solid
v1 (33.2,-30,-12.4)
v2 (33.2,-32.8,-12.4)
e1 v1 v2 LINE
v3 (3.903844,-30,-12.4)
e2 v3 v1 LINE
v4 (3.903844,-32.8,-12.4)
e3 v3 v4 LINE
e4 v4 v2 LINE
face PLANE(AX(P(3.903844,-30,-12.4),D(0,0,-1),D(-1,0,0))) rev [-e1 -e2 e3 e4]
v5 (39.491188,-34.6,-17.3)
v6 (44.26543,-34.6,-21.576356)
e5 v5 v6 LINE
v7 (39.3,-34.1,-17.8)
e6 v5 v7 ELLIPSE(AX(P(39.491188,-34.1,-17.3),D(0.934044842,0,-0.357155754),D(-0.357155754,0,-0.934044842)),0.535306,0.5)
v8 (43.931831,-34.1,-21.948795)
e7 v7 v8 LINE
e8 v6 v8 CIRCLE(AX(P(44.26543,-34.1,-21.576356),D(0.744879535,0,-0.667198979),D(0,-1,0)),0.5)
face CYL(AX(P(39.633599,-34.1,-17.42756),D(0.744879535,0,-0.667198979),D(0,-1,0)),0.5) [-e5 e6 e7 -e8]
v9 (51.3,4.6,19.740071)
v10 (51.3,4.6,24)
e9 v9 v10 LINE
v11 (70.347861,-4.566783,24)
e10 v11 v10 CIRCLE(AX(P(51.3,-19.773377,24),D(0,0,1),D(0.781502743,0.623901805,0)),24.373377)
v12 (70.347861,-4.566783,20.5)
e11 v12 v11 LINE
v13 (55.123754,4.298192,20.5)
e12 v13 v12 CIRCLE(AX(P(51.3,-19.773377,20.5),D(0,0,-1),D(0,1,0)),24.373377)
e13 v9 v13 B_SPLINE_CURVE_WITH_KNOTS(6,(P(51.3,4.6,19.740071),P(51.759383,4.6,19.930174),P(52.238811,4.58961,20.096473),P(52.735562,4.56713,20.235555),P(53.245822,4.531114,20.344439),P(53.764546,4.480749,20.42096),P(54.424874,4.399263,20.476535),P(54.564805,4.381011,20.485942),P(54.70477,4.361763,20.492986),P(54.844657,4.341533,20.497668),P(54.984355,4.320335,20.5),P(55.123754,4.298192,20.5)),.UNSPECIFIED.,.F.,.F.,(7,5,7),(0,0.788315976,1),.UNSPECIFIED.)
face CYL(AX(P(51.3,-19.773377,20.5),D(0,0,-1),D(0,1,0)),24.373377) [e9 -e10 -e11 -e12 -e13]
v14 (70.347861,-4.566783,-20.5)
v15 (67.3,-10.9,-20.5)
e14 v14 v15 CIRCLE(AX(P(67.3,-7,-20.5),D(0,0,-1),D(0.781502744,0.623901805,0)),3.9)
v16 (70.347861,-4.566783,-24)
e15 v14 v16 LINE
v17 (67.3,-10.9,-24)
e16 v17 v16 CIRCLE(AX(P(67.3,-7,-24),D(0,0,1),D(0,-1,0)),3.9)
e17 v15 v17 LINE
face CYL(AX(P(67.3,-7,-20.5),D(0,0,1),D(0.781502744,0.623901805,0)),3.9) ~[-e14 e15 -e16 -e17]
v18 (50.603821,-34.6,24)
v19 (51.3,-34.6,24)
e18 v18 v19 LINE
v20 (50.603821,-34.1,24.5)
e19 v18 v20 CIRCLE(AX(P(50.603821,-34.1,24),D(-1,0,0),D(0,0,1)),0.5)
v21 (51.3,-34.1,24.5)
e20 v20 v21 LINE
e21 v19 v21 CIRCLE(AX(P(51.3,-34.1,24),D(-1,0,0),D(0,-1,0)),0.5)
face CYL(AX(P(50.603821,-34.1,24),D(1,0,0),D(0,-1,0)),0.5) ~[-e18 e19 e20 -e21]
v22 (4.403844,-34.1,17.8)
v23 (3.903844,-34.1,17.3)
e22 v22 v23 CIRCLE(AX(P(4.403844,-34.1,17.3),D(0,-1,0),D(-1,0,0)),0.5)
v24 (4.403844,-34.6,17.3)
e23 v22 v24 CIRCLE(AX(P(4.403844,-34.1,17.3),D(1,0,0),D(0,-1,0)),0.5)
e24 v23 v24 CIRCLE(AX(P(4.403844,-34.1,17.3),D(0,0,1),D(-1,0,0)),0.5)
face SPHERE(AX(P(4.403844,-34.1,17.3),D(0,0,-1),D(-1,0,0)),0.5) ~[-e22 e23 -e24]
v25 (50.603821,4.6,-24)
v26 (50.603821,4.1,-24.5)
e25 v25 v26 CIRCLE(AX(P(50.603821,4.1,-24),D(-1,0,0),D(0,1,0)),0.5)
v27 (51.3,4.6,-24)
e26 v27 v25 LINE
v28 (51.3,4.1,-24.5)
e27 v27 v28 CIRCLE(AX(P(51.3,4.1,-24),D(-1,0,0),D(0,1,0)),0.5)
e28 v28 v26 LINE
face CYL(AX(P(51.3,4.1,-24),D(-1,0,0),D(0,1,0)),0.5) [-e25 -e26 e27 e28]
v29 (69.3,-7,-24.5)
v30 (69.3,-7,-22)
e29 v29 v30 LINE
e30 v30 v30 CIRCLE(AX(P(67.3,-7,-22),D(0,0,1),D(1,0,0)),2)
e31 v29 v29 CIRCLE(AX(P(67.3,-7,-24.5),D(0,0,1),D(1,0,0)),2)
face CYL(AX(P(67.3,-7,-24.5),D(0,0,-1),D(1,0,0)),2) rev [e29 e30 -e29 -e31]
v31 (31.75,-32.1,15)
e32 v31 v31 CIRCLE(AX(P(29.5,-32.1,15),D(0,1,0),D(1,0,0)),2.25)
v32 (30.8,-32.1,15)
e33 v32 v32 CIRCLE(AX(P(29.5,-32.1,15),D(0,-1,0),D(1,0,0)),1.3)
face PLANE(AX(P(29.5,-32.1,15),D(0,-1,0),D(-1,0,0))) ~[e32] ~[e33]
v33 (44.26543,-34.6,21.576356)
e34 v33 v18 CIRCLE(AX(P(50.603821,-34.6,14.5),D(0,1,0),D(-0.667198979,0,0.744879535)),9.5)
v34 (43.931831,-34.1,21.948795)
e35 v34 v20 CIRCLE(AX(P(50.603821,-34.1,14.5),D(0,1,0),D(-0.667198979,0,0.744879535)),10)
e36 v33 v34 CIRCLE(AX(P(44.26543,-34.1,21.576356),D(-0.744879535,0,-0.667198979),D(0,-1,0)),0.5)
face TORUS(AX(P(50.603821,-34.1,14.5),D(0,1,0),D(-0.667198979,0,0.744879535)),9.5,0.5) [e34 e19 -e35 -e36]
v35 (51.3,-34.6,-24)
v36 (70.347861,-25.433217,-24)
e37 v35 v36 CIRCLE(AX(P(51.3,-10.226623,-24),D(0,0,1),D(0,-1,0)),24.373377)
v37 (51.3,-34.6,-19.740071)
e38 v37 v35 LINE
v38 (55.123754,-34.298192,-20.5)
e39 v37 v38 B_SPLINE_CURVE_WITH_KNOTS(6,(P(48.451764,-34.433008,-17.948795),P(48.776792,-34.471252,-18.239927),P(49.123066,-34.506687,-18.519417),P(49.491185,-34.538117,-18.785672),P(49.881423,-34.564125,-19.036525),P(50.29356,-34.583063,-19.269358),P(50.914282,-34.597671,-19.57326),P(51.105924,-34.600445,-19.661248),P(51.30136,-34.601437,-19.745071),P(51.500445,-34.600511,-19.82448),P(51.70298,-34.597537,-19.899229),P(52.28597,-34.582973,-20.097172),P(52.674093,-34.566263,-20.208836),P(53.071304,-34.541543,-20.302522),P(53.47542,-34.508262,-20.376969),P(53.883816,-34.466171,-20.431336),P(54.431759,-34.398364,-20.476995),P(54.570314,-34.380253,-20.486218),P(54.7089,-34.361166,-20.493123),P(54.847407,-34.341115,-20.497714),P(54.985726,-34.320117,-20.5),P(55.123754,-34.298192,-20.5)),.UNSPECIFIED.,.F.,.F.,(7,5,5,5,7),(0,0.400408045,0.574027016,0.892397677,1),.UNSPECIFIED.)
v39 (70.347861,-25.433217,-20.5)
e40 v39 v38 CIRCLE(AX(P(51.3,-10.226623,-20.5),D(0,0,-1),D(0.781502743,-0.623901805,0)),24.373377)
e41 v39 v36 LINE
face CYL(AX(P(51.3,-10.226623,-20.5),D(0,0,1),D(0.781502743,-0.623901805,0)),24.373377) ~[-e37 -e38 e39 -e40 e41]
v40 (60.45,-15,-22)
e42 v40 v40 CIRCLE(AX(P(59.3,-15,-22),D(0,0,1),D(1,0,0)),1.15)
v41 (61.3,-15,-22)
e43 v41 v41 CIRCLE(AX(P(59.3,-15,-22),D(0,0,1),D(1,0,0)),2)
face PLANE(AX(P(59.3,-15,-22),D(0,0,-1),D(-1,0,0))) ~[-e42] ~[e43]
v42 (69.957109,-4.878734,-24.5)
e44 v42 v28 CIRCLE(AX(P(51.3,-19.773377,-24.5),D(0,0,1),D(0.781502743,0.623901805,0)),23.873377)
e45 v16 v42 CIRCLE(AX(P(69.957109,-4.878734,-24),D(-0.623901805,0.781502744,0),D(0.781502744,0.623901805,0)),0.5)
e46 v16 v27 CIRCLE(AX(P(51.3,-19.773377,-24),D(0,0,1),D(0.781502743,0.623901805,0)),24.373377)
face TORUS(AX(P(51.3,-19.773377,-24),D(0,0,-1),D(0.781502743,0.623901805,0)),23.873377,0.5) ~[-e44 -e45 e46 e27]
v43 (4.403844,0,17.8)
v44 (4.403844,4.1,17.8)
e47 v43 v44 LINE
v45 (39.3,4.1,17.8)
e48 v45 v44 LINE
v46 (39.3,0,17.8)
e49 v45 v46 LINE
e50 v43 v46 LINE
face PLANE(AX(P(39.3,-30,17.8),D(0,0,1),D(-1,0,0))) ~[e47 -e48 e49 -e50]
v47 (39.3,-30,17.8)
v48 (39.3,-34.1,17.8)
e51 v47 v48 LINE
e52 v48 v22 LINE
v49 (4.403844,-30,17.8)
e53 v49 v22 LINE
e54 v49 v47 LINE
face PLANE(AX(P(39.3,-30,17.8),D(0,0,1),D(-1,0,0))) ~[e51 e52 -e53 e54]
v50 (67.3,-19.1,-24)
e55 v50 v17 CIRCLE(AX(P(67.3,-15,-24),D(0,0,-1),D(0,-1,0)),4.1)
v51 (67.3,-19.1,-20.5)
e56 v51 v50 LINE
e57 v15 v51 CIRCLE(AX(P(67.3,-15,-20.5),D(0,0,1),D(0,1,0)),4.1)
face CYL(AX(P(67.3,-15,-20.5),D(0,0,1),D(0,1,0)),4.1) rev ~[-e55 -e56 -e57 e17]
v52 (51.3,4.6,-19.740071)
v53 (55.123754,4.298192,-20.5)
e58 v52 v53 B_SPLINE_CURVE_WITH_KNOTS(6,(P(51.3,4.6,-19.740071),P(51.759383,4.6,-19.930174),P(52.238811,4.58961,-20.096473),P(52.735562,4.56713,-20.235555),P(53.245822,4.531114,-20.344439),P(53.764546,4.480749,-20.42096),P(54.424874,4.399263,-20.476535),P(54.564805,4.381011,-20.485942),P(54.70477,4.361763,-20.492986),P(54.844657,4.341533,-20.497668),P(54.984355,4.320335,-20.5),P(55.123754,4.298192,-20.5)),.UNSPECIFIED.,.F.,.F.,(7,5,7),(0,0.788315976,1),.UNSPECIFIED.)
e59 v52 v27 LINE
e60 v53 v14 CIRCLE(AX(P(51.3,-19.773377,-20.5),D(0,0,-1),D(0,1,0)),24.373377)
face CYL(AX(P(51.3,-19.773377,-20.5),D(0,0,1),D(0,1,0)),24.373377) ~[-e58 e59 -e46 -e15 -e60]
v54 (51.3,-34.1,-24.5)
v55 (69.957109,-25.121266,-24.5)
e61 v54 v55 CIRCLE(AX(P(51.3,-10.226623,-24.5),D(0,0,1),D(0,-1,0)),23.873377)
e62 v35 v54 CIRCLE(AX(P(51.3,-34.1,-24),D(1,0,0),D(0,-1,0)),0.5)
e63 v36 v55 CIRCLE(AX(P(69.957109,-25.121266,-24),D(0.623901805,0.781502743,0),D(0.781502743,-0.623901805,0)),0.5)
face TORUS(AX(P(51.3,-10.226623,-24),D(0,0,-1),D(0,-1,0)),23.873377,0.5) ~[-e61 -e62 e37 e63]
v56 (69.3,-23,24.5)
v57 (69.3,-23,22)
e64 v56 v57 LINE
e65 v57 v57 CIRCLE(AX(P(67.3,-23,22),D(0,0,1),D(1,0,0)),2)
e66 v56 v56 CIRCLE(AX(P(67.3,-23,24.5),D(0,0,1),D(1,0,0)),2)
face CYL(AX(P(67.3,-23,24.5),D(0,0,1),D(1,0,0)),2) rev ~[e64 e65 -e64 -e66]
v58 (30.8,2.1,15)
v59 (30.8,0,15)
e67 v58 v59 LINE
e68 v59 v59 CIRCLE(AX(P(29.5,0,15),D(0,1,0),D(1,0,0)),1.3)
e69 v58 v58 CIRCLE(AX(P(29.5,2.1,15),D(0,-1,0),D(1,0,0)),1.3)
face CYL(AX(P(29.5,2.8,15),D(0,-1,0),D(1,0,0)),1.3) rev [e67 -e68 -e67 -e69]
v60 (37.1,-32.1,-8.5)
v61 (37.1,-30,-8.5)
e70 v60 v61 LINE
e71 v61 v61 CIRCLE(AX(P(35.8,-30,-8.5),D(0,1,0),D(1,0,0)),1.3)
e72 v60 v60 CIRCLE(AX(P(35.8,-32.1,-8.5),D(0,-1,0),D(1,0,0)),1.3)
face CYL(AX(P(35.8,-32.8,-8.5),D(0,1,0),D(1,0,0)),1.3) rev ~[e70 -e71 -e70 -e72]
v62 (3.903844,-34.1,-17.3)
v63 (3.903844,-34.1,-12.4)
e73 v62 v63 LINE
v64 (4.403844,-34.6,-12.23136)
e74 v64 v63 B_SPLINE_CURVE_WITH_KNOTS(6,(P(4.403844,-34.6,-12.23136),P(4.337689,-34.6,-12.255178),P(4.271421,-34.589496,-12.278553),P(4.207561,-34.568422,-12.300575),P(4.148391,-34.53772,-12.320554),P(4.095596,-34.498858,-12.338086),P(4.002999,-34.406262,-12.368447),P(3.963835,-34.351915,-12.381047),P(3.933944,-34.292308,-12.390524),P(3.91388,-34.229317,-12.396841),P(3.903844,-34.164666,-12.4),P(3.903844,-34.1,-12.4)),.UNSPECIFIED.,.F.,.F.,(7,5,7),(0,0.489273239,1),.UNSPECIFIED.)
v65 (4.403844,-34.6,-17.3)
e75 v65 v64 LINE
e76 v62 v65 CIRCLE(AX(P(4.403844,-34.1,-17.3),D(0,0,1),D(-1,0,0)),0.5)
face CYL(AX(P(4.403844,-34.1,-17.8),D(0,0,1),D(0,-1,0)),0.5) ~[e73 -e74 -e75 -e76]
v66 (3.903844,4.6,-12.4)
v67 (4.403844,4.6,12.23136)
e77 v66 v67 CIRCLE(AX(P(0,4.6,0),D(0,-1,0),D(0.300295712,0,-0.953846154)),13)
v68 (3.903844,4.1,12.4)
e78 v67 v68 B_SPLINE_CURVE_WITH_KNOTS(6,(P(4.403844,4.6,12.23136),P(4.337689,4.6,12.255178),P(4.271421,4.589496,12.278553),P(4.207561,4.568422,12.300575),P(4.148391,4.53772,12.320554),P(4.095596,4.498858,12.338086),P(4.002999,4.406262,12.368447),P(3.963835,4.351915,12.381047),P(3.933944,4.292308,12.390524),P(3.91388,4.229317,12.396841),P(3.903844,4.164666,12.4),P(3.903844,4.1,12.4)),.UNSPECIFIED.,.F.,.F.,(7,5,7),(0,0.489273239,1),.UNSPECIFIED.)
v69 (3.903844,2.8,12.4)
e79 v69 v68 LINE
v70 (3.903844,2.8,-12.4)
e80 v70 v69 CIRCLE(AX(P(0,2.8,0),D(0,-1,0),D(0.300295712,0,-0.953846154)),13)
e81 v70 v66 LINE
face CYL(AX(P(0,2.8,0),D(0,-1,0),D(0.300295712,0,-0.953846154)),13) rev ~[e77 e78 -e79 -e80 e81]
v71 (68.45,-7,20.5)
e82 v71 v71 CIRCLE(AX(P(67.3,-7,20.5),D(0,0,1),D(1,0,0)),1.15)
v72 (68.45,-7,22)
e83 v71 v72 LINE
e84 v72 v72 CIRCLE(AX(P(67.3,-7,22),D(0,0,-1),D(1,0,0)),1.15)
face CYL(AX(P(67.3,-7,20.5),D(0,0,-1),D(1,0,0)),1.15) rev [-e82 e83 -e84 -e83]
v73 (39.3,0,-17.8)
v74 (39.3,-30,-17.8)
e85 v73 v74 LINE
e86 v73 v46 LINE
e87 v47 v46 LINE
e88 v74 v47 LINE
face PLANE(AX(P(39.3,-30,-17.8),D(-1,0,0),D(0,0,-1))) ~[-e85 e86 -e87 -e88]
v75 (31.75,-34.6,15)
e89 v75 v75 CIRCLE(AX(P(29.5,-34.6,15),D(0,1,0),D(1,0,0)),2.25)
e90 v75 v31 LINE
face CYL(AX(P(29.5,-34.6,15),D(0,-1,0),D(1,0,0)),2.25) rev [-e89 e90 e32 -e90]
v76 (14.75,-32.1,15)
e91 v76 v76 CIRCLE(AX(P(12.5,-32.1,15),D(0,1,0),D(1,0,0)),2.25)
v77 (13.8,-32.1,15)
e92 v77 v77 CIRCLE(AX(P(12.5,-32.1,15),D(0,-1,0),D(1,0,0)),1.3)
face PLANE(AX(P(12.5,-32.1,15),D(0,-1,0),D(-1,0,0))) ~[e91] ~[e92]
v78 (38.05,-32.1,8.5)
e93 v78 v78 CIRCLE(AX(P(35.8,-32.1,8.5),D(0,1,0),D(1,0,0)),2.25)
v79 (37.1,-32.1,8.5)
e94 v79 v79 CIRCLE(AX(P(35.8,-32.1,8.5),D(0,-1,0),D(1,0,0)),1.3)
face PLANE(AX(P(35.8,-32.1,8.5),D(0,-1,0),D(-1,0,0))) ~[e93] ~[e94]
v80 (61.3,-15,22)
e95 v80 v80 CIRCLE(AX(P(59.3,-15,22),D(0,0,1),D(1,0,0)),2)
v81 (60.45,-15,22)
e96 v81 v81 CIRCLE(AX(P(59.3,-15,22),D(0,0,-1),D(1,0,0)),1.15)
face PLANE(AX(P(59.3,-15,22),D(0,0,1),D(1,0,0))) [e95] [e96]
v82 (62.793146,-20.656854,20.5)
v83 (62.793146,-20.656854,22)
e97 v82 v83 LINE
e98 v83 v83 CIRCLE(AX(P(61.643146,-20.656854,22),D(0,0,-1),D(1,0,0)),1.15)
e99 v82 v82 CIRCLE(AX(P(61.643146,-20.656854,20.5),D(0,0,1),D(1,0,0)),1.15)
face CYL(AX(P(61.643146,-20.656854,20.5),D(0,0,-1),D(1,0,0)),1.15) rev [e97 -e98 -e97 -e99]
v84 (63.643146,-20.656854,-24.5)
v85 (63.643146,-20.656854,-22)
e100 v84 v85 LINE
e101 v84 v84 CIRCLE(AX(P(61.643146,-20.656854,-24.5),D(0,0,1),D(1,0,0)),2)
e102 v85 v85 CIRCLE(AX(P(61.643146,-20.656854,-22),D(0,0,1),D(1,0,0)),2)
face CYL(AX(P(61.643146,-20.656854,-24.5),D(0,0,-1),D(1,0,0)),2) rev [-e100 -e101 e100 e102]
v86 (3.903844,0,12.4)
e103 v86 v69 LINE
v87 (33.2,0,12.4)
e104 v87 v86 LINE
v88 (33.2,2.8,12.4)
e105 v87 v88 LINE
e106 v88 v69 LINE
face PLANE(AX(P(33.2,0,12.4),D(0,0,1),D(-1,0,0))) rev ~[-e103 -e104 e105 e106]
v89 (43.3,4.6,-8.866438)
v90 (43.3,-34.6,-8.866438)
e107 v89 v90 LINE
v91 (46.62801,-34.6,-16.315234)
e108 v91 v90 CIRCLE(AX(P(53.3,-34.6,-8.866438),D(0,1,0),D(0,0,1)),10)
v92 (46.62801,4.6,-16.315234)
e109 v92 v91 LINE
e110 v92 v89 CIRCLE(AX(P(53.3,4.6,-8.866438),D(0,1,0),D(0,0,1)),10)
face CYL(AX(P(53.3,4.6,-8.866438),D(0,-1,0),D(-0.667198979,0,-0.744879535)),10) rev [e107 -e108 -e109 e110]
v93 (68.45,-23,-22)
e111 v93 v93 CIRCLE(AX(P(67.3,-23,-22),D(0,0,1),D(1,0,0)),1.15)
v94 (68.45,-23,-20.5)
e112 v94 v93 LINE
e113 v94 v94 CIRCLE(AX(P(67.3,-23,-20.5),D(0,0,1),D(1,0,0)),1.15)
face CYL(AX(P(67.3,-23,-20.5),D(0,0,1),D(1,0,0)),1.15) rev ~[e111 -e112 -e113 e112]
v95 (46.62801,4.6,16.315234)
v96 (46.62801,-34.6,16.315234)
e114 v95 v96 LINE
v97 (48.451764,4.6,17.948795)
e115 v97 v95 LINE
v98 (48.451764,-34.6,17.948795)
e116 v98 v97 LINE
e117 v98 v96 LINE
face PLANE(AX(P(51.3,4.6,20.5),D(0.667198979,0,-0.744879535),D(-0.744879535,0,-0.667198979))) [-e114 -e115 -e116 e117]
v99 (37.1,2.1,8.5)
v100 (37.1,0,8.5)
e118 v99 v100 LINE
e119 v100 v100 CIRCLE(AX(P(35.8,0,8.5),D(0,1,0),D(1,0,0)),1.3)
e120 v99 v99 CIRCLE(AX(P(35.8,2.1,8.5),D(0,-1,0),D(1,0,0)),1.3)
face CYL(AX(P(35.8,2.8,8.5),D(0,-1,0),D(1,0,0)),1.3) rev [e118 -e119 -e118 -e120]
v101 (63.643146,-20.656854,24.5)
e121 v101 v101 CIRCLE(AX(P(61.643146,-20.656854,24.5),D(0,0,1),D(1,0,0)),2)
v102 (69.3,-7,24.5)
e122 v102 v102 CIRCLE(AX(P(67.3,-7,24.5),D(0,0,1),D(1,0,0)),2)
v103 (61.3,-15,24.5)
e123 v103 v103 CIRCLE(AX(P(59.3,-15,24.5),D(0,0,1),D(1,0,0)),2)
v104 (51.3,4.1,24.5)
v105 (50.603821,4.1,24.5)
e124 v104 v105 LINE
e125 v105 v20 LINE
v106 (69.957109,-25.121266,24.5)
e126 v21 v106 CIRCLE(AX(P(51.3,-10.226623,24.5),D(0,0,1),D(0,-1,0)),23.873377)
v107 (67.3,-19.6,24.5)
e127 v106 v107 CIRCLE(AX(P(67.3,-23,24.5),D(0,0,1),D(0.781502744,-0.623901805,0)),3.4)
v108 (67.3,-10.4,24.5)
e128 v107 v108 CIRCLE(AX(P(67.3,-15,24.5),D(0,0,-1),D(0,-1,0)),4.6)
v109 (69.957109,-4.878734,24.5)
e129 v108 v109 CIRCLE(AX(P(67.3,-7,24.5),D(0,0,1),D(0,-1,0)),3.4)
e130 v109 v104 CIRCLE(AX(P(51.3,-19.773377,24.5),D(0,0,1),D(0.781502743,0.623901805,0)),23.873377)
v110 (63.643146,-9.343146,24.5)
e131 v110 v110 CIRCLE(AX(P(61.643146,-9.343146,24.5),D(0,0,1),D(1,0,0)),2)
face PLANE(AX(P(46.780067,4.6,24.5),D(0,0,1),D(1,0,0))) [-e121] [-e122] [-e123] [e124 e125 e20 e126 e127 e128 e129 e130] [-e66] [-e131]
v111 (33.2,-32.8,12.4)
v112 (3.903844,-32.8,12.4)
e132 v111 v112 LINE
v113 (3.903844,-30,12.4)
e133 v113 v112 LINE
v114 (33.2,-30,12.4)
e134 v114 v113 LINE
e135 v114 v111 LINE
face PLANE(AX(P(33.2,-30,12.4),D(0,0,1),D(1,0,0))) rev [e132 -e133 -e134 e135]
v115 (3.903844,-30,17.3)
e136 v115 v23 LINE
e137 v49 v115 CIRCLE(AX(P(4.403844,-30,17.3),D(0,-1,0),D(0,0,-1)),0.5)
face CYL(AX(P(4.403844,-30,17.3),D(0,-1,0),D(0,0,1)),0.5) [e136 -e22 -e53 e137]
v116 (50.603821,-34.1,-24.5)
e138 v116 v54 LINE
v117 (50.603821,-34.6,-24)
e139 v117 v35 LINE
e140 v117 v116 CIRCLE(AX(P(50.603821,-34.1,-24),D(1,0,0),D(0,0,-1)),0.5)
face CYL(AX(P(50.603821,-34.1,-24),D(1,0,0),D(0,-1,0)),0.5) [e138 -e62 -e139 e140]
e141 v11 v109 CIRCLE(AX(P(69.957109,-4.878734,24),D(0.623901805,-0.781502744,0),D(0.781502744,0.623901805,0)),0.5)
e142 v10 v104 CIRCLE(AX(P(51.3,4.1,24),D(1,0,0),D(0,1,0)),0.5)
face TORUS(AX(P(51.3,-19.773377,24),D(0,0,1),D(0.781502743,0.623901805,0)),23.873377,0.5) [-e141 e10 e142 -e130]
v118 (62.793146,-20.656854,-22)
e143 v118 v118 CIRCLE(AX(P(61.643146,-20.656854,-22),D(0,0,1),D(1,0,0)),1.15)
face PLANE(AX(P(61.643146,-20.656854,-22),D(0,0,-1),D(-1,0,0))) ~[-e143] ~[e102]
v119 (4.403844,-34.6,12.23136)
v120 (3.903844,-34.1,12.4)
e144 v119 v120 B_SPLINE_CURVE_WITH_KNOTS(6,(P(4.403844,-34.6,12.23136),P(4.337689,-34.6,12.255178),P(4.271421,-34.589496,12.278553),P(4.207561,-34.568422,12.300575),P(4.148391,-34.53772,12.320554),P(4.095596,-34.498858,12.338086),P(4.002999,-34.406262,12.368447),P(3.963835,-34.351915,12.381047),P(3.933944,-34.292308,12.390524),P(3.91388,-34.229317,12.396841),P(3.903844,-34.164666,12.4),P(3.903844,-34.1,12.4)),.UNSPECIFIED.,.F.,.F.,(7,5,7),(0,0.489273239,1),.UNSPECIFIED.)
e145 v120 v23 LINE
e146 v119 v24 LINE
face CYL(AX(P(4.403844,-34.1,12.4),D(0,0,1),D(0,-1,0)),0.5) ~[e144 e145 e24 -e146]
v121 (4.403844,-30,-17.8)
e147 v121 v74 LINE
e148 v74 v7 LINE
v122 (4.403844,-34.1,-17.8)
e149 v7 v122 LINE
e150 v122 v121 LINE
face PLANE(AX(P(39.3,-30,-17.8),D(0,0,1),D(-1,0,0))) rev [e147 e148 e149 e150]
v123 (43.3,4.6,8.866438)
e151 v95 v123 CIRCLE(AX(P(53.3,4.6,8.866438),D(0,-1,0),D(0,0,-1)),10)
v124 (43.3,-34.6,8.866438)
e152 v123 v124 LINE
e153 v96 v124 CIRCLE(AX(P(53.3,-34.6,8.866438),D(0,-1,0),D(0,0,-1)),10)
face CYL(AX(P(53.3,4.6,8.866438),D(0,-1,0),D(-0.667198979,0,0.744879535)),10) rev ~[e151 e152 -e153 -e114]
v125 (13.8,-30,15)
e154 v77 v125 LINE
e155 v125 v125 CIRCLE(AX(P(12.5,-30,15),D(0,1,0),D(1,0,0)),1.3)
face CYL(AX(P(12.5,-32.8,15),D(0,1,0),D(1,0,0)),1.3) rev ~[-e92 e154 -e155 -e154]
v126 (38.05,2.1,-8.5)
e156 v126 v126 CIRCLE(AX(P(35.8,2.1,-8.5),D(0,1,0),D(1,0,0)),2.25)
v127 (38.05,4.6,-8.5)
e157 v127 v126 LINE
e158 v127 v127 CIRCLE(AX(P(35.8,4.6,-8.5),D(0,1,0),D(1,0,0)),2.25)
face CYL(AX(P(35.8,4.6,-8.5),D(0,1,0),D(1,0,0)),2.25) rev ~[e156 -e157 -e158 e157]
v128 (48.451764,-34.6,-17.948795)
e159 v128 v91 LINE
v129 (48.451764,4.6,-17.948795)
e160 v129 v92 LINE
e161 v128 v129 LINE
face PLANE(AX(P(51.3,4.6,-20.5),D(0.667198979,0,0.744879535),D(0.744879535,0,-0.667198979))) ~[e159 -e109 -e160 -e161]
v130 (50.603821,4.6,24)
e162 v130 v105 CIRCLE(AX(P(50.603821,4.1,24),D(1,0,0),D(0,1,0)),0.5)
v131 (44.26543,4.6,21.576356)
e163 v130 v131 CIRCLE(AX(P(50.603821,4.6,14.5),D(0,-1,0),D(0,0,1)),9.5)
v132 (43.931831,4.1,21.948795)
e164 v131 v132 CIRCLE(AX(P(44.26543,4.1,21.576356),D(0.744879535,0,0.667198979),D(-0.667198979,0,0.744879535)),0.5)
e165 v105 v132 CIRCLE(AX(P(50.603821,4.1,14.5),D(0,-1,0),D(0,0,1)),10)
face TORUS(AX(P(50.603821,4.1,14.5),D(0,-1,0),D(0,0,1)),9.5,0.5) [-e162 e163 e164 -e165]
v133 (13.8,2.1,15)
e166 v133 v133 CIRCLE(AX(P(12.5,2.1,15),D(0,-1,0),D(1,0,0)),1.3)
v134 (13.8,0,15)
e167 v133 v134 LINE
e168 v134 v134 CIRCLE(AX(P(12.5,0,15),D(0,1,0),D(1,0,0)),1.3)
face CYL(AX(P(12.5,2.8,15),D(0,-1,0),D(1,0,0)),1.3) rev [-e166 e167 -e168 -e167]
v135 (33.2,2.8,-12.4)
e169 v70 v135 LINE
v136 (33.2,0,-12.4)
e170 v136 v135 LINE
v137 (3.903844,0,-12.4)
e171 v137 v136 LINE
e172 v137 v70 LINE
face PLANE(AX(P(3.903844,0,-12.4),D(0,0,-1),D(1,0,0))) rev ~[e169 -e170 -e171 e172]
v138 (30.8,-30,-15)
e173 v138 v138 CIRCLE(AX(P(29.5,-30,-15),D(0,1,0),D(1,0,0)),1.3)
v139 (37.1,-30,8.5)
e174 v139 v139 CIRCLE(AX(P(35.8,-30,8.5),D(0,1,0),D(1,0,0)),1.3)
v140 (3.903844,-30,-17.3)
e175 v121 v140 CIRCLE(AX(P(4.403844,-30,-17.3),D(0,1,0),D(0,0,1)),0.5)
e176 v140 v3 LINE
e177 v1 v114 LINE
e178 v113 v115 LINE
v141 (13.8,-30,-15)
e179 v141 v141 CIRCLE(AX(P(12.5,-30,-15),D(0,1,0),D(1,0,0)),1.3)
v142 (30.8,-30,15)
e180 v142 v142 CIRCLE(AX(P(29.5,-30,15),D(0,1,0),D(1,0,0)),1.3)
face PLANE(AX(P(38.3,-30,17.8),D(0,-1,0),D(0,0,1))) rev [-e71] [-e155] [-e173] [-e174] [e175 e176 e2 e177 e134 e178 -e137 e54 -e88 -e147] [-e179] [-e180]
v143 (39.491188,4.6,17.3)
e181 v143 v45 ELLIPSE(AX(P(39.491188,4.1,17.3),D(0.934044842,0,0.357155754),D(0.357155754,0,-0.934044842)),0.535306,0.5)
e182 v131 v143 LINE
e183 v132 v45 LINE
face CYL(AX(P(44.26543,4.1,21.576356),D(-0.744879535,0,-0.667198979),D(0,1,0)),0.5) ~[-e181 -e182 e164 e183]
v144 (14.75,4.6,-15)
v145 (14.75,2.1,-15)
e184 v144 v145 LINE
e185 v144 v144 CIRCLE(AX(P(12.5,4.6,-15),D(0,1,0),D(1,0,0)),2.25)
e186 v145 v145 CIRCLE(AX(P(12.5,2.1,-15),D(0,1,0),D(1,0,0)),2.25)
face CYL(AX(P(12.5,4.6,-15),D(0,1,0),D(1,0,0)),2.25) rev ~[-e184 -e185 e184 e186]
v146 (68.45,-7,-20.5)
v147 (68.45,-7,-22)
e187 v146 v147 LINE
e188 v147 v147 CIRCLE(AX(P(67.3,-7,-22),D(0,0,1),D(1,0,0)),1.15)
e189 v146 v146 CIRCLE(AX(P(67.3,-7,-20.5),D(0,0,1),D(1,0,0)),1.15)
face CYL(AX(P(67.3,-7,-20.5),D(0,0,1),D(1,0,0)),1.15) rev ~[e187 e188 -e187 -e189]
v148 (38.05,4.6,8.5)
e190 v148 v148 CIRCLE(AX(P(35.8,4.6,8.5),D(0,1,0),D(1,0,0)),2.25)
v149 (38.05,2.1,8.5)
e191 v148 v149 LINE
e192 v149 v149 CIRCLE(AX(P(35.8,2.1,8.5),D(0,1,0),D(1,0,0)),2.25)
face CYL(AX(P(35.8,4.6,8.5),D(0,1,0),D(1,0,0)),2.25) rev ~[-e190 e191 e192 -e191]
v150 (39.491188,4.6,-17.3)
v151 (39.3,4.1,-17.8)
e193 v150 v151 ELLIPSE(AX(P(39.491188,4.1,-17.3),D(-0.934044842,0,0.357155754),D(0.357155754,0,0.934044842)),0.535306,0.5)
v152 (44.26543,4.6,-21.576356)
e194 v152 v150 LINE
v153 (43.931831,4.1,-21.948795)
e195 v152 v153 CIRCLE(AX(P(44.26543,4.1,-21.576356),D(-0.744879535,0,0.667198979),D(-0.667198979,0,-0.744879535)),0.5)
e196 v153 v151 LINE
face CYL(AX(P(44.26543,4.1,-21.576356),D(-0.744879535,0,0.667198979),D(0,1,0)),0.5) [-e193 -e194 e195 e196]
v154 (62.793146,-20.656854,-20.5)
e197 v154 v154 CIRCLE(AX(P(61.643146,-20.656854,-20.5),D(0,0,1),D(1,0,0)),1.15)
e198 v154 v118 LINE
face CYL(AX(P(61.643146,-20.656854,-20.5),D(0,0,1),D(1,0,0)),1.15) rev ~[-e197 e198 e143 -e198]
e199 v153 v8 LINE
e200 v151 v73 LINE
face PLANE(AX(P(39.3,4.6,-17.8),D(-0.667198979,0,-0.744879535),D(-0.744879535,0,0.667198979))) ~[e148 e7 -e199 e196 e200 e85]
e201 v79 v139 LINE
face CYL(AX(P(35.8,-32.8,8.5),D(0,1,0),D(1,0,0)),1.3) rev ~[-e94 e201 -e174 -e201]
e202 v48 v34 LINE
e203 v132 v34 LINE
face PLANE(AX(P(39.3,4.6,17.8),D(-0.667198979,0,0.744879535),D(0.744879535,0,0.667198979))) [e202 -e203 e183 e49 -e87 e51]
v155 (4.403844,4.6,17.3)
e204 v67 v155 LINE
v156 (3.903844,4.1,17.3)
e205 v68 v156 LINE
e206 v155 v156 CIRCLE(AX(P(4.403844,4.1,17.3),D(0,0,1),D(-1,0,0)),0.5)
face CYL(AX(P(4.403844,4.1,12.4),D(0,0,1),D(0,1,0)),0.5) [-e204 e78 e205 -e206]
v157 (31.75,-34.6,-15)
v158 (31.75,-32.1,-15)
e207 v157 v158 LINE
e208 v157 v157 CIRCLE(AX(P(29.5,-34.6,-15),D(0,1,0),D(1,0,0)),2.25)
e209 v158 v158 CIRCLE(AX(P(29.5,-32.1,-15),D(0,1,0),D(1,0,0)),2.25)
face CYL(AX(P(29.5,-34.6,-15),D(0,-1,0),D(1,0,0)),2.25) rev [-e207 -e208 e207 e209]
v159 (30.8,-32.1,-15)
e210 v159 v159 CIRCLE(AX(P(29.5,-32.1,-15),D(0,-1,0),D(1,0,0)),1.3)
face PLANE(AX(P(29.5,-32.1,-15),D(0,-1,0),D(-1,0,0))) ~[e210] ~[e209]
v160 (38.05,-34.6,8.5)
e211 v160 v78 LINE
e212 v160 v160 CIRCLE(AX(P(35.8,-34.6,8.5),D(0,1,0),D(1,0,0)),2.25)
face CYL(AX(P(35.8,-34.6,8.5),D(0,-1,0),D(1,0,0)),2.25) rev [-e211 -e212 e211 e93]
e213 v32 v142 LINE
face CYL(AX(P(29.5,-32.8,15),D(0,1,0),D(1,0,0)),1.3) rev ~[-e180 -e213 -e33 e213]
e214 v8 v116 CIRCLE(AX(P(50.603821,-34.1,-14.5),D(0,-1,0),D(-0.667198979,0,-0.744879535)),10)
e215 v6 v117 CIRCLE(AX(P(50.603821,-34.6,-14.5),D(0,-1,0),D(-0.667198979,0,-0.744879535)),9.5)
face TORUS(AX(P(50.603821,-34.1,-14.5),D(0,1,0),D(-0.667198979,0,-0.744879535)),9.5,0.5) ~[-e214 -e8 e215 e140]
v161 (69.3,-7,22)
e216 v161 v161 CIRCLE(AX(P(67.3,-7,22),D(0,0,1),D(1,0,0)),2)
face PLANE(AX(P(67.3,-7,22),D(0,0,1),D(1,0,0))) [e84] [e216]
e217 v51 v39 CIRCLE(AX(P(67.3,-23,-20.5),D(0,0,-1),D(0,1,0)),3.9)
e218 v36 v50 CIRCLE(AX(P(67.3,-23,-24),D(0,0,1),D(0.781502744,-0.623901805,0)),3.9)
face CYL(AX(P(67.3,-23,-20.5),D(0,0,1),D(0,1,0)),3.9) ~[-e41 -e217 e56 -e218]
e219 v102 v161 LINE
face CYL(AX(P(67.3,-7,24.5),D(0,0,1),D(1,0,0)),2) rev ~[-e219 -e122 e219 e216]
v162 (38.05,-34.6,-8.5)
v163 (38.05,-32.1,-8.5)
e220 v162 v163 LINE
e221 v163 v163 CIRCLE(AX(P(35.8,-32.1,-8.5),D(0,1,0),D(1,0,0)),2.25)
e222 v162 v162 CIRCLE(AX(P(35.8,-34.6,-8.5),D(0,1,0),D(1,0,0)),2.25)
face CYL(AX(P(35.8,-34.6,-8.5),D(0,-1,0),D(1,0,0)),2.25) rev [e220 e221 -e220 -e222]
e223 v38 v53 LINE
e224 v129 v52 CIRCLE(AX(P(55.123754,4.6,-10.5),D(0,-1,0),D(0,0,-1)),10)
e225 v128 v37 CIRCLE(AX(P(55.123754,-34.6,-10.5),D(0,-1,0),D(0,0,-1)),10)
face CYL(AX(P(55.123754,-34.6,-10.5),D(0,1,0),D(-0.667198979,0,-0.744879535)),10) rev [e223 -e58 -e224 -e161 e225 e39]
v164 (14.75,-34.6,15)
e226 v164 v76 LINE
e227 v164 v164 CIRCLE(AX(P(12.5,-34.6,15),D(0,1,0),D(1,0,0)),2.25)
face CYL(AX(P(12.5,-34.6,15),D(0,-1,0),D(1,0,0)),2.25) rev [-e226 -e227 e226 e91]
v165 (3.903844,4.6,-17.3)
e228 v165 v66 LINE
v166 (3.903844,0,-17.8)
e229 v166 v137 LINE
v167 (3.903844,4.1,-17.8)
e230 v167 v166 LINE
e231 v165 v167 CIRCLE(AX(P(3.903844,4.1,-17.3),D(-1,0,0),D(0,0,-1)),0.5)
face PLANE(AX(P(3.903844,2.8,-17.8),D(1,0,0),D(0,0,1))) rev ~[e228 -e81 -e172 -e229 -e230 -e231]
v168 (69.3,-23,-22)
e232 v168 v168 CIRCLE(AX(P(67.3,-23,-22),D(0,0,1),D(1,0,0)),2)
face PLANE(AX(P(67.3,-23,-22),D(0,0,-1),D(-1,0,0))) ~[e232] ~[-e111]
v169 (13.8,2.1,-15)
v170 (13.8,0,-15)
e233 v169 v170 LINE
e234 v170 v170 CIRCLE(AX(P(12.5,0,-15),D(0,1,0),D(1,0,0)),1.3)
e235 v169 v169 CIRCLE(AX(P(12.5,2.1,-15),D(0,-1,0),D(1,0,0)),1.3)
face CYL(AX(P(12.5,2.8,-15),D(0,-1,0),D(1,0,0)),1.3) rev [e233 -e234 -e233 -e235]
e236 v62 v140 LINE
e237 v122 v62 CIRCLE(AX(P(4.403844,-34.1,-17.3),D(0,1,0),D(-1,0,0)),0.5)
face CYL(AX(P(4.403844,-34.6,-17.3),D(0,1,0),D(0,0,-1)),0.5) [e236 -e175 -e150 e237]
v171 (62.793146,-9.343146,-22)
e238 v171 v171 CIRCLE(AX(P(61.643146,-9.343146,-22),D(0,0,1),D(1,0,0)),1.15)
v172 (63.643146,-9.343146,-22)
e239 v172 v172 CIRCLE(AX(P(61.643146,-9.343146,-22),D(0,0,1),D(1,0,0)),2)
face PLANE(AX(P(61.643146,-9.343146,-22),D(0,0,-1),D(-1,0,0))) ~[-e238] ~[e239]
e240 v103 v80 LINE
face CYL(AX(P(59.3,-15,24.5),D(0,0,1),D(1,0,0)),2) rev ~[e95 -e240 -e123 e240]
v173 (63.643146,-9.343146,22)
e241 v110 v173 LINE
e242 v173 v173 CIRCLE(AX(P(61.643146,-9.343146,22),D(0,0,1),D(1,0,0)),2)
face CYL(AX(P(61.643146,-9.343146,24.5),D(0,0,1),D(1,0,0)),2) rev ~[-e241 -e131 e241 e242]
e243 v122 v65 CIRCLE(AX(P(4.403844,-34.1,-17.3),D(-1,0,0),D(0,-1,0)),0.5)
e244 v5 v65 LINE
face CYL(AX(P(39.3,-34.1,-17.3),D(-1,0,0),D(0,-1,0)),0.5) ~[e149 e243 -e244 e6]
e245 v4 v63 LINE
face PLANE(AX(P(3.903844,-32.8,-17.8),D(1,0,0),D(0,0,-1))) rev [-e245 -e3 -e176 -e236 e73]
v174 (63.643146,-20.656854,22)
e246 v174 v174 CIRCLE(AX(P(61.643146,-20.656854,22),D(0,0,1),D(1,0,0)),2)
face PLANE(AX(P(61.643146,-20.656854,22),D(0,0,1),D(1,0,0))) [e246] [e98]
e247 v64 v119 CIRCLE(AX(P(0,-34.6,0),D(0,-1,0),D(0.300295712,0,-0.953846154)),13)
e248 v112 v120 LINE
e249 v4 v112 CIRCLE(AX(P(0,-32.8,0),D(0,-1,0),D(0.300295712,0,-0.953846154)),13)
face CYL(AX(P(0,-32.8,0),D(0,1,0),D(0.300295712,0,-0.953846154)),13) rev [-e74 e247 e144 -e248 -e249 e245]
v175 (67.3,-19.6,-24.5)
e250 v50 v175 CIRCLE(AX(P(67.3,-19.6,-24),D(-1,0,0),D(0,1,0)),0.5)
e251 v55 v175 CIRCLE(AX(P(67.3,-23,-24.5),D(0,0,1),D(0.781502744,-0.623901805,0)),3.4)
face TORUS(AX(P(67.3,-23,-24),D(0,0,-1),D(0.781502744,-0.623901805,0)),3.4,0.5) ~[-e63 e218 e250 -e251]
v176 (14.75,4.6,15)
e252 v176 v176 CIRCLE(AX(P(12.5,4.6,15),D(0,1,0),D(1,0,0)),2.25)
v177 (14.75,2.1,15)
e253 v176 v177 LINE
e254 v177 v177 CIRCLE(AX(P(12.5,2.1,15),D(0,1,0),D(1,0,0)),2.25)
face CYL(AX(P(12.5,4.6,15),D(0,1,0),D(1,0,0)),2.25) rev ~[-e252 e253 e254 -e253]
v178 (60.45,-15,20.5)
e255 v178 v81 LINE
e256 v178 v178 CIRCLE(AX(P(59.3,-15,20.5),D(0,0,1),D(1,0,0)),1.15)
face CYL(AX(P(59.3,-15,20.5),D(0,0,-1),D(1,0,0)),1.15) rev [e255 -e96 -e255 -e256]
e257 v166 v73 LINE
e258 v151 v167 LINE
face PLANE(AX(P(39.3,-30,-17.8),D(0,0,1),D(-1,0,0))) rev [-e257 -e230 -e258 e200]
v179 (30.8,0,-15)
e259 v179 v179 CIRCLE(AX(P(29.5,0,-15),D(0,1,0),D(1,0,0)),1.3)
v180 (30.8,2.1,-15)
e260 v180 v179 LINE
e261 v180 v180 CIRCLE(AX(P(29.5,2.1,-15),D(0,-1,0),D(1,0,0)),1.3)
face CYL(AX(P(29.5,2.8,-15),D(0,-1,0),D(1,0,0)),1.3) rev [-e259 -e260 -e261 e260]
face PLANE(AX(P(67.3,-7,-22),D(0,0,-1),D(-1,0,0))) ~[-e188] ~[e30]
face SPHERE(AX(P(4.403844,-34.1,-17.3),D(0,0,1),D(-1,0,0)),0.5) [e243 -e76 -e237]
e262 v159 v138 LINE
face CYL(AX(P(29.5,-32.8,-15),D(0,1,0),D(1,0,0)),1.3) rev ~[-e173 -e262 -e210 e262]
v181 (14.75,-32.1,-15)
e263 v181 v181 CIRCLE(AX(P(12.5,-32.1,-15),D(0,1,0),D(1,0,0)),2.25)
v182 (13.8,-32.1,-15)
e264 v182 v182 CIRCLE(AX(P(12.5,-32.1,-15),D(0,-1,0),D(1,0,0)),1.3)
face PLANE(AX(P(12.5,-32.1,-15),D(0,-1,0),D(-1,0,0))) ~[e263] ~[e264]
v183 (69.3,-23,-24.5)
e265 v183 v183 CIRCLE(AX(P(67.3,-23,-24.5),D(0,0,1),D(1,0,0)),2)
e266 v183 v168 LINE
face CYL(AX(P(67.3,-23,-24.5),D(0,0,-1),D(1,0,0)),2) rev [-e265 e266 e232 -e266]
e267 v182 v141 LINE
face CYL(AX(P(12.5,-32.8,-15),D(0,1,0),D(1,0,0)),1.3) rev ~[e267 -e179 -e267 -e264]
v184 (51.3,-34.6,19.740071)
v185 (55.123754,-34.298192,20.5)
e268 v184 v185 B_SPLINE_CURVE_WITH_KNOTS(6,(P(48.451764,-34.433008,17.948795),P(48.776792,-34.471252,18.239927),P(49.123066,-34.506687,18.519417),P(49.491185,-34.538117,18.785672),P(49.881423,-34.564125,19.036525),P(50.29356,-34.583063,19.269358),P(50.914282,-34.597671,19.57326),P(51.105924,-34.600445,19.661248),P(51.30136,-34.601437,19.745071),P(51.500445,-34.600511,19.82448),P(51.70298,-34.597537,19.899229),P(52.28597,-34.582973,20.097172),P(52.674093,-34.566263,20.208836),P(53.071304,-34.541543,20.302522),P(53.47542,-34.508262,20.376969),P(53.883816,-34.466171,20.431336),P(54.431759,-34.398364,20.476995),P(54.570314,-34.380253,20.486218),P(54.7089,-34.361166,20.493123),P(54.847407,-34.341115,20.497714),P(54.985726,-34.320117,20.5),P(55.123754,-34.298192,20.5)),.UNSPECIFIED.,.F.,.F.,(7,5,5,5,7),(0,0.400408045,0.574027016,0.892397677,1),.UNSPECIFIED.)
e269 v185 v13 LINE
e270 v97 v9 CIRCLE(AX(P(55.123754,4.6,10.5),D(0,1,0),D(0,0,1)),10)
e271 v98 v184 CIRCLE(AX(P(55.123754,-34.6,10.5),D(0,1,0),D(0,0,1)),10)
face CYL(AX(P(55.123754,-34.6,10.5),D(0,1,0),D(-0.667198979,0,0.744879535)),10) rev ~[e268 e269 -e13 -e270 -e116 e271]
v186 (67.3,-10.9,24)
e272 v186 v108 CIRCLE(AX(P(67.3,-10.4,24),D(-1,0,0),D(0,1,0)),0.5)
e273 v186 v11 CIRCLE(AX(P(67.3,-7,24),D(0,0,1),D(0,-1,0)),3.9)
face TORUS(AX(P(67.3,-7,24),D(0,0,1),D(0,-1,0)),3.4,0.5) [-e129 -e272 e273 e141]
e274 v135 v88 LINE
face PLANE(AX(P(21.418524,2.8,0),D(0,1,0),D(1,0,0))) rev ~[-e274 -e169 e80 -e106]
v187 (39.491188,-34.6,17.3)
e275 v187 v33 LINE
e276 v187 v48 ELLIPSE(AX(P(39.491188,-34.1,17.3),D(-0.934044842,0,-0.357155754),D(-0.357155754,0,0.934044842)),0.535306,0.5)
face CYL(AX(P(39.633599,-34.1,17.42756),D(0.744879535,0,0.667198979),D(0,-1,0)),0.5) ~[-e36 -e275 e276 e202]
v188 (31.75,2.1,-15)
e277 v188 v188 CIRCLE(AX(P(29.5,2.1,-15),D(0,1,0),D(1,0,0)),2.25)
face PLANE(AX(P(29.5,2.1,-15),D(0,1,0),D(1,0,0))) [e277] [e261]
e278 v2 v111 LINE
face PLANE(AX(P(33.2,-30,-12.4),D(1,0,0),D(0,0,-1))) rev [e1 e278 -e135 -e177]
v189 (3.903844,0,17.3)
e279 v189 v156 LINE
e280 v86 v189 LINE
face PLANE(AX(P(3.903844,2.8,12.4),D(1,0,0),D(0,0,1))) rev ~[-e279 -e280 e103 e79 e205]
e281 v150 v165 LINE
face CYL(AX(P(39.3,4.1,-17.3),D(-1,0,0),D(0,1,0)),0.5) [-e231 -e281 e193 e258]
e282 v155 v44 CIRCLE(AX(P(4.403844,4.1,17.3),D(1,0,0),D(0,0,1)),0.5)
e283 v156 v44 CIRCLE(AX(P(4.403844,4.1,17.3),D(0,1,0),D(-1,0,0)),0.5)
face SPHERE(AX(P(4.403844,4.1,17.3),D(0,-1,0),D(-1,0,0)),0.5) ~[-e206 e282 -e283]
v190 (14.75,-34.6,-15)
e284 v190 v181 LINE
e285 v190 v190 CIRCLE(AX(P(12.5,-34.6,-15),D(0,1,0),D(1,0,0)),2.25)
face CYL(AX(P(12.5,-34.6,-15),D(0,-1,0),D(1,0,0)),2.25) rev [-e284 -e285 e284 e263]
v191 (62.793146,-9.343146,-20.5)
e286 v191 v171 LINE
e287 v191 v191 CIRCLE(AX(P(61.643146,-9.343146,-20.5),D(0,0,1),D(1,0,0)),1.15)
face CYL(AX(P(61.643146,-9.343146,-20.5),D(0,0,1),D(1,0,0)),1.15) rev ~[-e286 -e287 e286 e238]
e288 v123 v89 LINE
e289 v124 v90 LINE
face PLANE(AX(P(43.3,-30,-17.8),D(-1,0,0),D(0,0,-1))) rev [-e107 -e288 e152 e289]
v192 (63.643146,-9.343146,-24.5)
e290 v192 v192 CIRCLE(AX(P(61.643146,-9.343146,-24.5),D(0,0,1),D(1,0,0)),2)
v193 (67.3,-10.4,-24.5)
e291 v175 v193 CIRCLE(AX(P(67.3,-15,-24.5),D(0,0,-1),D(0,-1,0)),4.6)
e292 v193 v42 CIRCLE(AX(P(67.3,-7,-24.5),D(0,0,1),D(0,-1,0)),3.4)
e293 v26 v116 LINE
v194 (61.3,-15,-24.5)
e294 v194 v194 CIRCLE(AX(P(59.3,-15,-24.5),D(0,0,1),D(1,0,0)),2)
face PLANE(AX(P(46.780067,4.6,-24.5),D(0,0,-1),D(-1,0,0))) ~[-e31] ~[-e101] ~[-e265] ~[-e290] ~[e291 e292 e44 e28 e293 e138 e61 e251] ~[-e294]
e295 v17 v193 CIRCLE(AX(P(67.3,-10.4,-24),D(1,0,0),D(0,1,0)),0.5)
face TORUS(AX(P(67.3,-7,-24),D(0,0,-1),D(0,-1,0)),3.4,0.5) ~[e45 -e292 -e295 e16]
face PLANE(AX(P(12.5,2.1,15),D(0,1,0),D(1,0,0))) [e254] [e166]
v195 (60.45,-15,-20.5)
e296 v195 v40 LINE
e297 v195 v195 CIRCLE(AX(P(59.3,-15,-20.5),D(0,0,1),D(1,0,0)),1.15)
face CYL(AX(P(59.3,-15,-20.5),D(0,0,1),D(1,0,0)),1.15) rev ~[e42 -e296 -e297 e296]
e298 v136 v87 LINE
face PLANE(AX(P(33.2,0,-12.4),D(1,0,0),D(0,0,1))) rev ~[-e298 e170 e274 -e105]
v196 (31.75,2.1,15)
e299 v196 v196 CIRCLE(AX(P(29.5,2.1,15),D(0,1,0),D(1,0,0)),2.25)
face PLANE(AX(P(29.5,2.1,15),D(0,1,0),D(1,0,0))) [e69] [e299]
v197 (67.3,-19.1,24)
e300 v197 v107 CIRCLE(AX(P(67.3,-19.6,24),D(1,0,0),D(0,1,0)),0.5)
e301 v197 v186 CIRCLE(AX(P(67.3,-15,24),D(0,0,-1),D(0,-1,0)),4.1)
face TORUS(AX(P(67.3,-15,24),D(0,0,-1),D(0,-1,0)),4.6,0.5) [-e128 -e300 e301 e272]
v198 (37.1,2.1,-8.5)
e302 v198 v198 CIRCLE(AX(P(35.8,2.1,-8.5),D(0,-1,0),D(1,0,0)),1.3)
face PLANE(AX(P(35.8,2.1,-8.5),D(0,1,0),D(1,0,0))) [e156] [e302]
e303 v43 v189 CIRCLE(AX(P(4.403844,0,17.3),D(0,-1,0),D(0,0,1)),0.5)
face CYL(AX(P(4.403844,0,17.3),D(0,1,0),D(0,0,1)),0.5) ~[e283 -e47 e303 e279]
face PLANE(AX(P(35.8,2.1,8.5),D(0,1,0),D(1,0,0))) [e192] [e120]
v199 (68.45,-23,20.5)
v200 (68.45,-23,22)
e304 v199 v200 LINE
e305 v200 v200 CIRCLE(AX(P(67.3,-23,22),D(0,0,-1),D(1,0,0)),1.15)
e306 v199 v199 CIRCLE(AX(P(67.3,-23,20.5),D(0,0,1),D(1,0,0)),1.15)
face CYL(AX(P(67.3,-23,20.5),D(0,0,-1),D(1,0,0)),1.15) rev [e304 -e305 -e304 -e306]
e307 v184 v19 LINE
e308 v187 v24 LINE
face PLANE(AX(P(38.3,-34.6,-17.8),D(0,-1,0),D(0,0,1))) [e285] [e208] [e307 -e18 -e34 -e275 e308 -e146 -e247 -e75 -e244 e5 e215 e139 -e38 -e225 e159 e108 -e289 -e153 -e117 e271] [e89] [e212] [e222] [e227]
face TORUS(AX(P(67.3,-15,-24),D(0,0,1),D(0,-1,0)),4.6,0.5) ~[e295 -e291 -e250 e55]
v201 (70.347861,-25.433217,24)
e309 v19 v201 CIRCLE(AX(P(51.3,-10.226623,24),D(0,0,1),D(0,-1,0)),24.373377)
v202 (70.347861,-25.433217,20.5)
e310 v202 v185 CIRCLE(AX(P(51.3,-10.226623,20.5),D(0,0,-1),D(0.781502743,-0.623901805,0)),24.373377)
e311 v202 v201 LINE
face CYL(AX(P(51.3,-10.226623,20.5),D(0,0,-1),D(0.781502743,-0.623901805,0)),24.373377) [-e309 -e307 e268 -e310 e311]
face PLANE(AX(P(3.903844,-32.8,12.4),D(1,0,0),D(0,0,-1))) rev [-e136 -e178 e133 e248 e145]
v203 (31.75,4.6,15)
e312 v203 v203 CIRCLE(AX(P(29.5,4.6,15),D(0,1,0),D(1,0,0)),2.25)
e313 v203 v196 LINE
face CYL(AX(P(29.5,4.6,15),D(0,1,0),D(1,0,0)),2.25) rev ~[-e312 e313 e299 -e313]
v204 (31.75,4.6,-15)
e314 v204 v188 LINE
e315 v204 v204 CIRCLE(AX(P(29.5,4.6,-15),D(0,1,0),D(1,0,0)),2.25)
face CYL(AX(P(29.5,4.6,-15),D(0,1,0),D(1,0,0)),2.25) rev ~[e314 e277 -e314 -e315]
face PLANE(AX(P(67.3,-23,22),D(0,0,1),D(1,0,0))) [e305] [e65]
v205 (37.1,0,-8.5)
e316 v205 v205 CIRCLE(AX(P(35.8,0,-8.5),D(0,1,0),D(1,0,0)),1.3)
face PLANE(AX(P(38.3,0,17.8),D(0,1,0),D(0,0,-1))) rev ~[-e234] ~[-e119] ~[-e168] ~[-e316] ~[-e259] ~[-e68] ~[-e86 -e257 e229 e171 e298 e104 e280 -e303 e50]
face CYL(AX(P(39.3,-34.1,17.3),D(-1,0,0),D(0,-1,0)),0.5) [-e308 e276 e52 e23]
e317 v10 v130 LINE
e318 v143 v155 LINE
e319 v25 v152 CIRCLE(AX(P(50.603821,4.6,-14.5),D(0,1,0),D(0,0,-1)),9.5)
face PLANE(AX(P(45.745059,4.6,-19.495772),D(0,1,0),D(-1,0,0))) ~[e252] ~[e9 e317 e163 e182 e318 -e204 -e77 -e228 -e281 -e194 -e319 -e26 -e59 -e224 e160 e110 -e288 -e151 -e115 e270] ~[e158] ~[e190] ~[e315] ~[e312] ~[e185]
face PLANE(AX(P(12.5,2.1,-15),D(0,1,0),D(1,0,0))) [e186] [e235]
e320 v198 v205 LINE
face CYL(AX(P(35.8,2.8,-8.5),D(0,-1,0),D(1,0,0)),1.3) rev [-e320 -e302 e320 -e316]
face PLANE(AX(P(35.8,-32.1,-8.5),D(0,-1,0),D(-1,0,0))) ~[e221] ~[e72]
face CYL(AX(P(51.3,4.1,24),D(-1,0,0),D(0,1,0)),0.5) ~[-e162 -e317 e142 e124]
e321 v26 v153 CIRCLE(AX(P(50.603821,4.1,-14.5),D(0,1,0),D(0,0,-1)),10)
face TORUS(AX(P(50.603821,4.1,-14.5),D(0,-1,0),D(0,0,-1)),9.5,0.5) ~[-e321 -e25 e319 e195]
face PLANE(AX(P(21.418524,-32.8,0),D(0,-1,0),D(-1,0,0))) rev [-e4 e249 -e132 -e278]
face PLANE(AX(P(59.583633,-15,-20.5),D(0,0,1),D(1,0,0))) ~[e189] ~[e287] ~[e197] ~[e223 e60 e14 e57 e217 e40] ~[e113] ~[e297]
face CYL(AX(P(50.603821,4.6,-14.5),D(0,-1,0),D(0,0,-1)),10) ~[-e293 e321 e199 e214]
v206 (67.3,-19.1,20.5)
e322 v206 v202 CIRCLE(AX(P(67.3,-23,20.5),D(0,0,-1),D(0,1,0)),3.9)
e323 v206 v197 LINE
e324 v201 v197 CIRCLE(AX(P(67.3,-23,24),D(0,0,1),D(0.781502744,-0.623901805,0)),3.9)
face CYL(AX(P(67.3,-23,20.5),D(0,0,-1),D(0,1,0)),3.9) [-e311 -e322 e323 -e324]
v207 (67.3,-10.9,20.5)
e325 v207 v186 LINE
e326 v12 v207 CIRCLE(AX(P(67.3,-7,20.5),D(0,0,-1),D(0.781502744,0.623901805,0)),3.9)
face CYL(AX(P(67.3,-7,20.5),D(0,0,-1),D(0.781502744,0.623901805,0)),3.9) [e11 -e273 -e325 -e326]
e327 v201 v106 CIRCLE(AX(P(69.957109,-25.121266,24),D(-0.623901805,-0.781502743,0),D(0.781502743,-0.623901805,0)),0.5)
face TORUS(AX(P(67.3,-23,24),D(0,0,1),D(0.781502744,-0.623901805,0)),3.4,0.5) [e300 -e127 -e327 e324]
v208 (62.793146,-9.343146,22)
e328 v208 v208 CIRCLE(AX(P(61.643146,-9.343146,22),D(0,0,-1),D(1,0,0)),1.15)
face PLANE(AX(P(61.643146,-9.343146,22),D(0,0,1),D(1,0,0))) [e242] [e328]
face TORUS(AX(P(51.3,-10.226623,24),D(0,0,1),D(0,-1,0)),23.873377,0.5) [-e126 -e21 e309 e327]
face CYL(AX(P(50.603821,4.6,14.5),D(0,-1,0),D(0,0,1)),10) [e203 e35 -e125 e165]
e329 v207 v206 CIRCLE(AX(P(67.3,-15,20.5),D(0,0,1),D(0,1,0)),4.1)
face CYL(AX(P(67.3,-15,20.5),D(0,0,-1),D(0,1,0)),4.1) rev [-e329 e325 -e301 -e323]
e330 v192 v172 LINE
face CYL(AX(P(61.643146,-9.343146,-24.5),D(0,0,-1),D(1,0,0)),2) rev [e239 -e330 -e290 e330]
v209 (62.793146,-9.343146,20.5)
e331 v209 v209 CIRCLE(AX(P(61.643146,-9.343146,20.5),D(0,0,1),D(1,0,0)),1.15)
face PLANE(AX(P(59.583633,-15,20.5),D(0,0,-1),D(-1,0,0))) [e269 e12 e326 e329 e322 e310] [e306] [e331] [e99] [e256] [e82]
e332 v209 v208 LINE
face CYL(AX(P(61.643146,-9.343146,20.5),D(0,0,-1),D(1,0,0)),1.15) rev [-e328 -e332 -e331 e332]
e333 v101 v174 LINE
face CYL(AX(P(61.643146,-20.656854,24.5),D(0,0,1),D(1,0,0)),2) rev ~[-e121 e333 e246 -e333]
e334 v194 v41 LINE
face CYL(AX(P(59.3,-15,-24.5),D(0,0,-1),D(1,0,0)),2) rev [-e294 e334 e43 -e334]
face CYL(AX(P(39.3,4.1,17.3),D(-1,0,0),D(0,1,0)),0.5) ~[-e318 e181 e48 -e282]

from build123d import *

# Parameters (mm, degrees)
SKETCH1_R           = 1.3
BOSS_EXTRUDE1_DEPTH = 2.8
SKETCH2_R           = 1.3
BOSS_EXTRUDE2_DEPTH = 1.8
SKETCH3_R           = 2.25
CUT_EXTRUDE1_DEPTH  = 2.5
SKETCH4_W           = 35.6
SKETCH4_H           = 4.6
BOSS_EXTRUDE3_DEPTH = 5
SKETCH5_W           = 4
SKETCH5_H           = 35.6
BOSS_EXTRUDE4_DEPTH = 15
SKETCH8_R           = 1.15
BOSS_EXTRUDE5_DEPTH = 4
BOSS_EXTRUDE7_DEPTH = 39.2
FILLET1_R           = 10
FILLET2_R           = 0.5
SKETCH12_R          = 2
CUT_EXTRUDE2_DEPTH  = 2.5


with BuildPart() as part:
    # Sketch1 → Boss-Extrude1 (new body)
    with BuildSketch(Plane(origin=(0, 0, 0), x_dir=(1, 0, 0), z_dir=(0, 1, 0))):
        Polygon((33.2, 12.4), (33.2, -12.4), (3.903844259, -12.4), (3.903844259, -17.8), (38.3, -17.8), (38.3, 17.8), (3.903844259, 17.8), (3.903844259, 12.4), align=None)
        with Locations((12.5, 15)):
            Circle(SKETCH1_R, mode=Mode.SUBTRACT)
        with Locations((29.5, 15)):
            Circle(SKETCH1_R, mode=Mode.SUBTRACT)
        with Locations((29.5, -15)):
            Circle(SKETCH1_R, mode=Mode.SUBTRACT)
        with Locations((12.5, -15)):
            Circle(SKETCH1_R, mode=Mode.SUBTRACT)
        with Locations((35.8, -8.5)):
            Circle(SKETCH1_R, mode=Mode.SUBTRACT)
        with Locations((35.8, 8.5)):
            Circle(SKETCH1_R, mode=Mode.SUBTRACT)
    extrude(amount=BOSS_EXTRUDE1_DEPTH)

    # Sketch2 → Boss-Extrude2 (add)
    with BuildSketch(Plane(origin=(0, 2.8, 0), x_dir=(1, 0, 0), z_dir=(0, 1, 0))):
        with BuildLine():
            Line((3.903844259, -12.4), (3.903844259, -17.8))
            Line((3.903844259, -17.8), (38.3, -17.8))
            Line((38.3, -17.8), (38.3, 17.8))
            Line((38.3, 17.8), (3.903844259, 17.8))
            Line((3.903844259, 17.8), (3.903844259, 12.4))
            ThreePointArc((3.903844259, 12.4), (13, 0), (3.903844259, -12.4))
        make_face()
        with Locations((12.5, -15)):
            Circle(SKETCH2_R, mode=Mode.SUBTRACT)
        with Locations((29.5, -15)):
            Circle(SKETCH2_R, mode=Mode.SUBTRACT)
        with Locations((35.8, -8.5)):
            Circle(SKETCH2_R, mode=Mode.SUBTRACT)
        with Locations((35.8, 8.5)):
            Circle(SKETCH2_R, mode=Mode.SUBTRACT)
        with Locations((29.5, 15)):
            Circle(SKETCH2_R, mode=Mode.SUBTRACT)
        with Locations((12.5, 15)):
            Circle(SKETCH2_R, mode=Mode.SUBTRACT)
    extrude(amount=BOSS_EXTRUDE2_DEPTH)

    # Sketch3 → Cut-Extrude1 (cut)
    with BuildSketch(Plane(origin=(0, 4.6, 0), x_dir=(1, 0, 0), z_dir=(0, 1, 0))):
        with Locations((12.5, 15)):
            Circle(SKETCH3_R)
        with Locations((29.5, 15)):
            Circle(SKETCH3_R)
        with Locations((35.8, 8.5)):
            Circle(SKETCH3_R)
        with Locations((35.8, -8.5)):
            Circle(SKETCH3_R)
        with Locations((29.5, -15)):
            Circle(SKETCH3_R)
        with Locations((12.5, -15)):
            Circle(SKETCH3_R)
    extrude(amount=-CUT_EXTRUDE1_DEPTH, mode=Mode.SUBTRACT)

    # Sketch4 → Boss-Extrude3 (add)
    with BuildSketch(Plane(origin=(38.3, 0, 0), x_dir=(0, 0, -1), z_dir=(1, 0, 0))):
        with Locations((0, 2.3)):
            Rectangle(SKETCH4_W, SKETCH4_H)
    extrude(amount=BOSS_EXTRUDE3_DEPTH)

    # Sketch5 → Boss-Extrude4 (add)
    with BuildSketch(Plane.XZ):
        with Locations((41.3, 0)):
            Rectangle(SKETCH5_W, SKETCH5_H)
    extrude(amount=BOSS_EXTRUDE4_DEPTH)

    # Mirror1: part across plane


with BuildPart() as part_1:
    add(part.part)
    add(part.part.mirror(Plane.ZX.offset(-15)))



with BuildPart() as body_2:
    # Sketch8 → Boss-Extrude5 (new body)
    with BuildSketch(Plane.XY.offset(20.5)):
        with BuildLine():
            Line((51.3, -34.6), (51.3, 4.6))
            ThreePointArc((51.3, 4.6), (61.869424146, 2.18906316), (70.3478607, -4.566782962))
            ThreePointArc((70.3478607, -4.566782962), (70.814224413, -8.691220499), (67.3, -10.9))
            ThreePointArc((67.3, -10.9), (63.2, -15), (67.3, -19.1))
            ThreePointArc((67.3, -19.1), (70.814224413, -21.308779501), (70.3478607, -25.433217038))
            ThreePointArc((70.3478607, -25.433217038), (61.869424146, -32.18906316), (51.3, -34.6))
        make_face()
        with Locations((67.3, -7)):
            Circle(SKETCH8_R, mode=Mode.SUBTRACT)
        with Locations((61.643145751, -9.343145751)):
            Circle(SKETCH8_R, mode=Mode.SUBTRACT)
        with Locations((59.3, -15)):
            Circle(SKETCH8_R, mode=Mode.SUBTRACT)
        with Locations((61.643145751, -20.656854249)):
            Circle(SKETCH8_R, mode=Mode.SUBTRACT)
        with Locations((67.3, -23)):
            Circle(SKETCH8_R, mode=Mode.SUBTRACT)
    extrude(amount=BOSS_EXTRUDE5_DEPTH)


with BuildPart() as part_2:
    add(part_1.part)

    add(body_2.part)  # Boss-Extrude7 merges body 2
    # Sketch11 → Boss-Extrude7 (add)
    with BuildSketch(Plane(origin=(0, 4.6, 0), x_dir=(1, 0, 0), z_dir=(0, 1, 0))):
        Polygon((43.3, -13.334288522), (39.3, -17.8), (46.780066726, -24.5), (51.3, -24.5), (51.3, -20.5), align=None)
    extrude(amount=-BOSS_EXTRUDE7_DEPTH)

    # Fillet1
    fillet1_edges = [part_2.edges().sort_by_distance(p)[0] for p in [
        (46.780066726, -15, 24.5),
        (51.3, -15, 20.5),
        (43.3, -15, 13.334288522),
    ]]
    fillet(fillet1_edges, radius=FILLET1_R)

    # Mirror6: part across plane


with BuildPart() as part_3:
    add(part_2.part)
    add(part_2.part.mirror(Plane.XY))

    # Fillet2
    fillet2_edges = [part_3.edges().sort_by_distance(p)[0] for p in [
        (41.615915378, -34.6, -19.874397676),
        (41.615915378, 4.6, -19.874397676),
        (47.032263012, -34.6, -23.840448424),
        (47.032263012, 4.6, -23.840448424),
        (50.951910275, -34.6, -24.5),
        (61.869424146, -32.18906316, -24.5),
        (70.814224413, -21.308779501, -24.5),
        (63.2, -15, -24.5),
        (70.814224413, -8.691220499, -24.5),
        (61.869424146, 2.18906316, -24.5),
        (50.951910275, 4.6, -24.5),
        (41.615915378, -34.6, 19.874397676),
        (41.615915378, 4.6, 19.874397676),
        (47.032263012, -34.6, 23.840448424),
        (50.951910275, -34.6, 24.5),
        (61.869424146, -32.18906316, 24.5),
        (70.814224413, -21.308779501, 24.5),
        (63.2, -15, 24.5),
        (70.814224413, -8.691220499, 24.5),
        (61.869424146, 2.18906316, 24.5),
        (50.951910275, 4.6, 24.5),
        (47.032263012, 4.6, 23.840448424),
        (3.903844259, -34.6, -15.1),
        (3.903844259, -32.3, -17.8),
        (21.60192213, -34.6, -17.8),
        (21.60192213, 4.6, -17.8),
        (3.903844259, -34.6, 15.1),
        (3.903844259, -32.3, 17.8),
        (21.60192213, -34.6, 17.8),
        (3.903844259, 2.3, 17.8),
        (3.903844259, 4.6, 15.1),
        (21.60192213, 4.6, 17.8),
    ]]
    fillet(fillet2_edges, radius=FILLET2_R)

    # Sketch12 → Cut-Extrude2 (cut)
    with BuildSketch(Plane.XY.offset(24.5)):
        with Locations((67.3, -23)):
            Circle(SKETCH12_R)
        with Locations((61.643145751, -20.656854249)):
            Circle(SKETCH12_R)
        with Locations((59.3, -15)):
            Circle(SKETCH12_R)
        with Locations((61.643145751, -9.343145751)):
            Circle(SKETCH12_R)
        with Locations((67.3, -7)):
            Circle(SKETCH12_R)
    cut_extrude2 = extrude(amount=-CUT_EXTRUDE2_DEPTH, mode=Mode.SUBTRACT)

    # Mirror7: Cut-Extrude2 across plane
    add(cut_extrude2.mirror(Plane.XY), mode=Mode.SUBTRACT)


solid = part_3.part
